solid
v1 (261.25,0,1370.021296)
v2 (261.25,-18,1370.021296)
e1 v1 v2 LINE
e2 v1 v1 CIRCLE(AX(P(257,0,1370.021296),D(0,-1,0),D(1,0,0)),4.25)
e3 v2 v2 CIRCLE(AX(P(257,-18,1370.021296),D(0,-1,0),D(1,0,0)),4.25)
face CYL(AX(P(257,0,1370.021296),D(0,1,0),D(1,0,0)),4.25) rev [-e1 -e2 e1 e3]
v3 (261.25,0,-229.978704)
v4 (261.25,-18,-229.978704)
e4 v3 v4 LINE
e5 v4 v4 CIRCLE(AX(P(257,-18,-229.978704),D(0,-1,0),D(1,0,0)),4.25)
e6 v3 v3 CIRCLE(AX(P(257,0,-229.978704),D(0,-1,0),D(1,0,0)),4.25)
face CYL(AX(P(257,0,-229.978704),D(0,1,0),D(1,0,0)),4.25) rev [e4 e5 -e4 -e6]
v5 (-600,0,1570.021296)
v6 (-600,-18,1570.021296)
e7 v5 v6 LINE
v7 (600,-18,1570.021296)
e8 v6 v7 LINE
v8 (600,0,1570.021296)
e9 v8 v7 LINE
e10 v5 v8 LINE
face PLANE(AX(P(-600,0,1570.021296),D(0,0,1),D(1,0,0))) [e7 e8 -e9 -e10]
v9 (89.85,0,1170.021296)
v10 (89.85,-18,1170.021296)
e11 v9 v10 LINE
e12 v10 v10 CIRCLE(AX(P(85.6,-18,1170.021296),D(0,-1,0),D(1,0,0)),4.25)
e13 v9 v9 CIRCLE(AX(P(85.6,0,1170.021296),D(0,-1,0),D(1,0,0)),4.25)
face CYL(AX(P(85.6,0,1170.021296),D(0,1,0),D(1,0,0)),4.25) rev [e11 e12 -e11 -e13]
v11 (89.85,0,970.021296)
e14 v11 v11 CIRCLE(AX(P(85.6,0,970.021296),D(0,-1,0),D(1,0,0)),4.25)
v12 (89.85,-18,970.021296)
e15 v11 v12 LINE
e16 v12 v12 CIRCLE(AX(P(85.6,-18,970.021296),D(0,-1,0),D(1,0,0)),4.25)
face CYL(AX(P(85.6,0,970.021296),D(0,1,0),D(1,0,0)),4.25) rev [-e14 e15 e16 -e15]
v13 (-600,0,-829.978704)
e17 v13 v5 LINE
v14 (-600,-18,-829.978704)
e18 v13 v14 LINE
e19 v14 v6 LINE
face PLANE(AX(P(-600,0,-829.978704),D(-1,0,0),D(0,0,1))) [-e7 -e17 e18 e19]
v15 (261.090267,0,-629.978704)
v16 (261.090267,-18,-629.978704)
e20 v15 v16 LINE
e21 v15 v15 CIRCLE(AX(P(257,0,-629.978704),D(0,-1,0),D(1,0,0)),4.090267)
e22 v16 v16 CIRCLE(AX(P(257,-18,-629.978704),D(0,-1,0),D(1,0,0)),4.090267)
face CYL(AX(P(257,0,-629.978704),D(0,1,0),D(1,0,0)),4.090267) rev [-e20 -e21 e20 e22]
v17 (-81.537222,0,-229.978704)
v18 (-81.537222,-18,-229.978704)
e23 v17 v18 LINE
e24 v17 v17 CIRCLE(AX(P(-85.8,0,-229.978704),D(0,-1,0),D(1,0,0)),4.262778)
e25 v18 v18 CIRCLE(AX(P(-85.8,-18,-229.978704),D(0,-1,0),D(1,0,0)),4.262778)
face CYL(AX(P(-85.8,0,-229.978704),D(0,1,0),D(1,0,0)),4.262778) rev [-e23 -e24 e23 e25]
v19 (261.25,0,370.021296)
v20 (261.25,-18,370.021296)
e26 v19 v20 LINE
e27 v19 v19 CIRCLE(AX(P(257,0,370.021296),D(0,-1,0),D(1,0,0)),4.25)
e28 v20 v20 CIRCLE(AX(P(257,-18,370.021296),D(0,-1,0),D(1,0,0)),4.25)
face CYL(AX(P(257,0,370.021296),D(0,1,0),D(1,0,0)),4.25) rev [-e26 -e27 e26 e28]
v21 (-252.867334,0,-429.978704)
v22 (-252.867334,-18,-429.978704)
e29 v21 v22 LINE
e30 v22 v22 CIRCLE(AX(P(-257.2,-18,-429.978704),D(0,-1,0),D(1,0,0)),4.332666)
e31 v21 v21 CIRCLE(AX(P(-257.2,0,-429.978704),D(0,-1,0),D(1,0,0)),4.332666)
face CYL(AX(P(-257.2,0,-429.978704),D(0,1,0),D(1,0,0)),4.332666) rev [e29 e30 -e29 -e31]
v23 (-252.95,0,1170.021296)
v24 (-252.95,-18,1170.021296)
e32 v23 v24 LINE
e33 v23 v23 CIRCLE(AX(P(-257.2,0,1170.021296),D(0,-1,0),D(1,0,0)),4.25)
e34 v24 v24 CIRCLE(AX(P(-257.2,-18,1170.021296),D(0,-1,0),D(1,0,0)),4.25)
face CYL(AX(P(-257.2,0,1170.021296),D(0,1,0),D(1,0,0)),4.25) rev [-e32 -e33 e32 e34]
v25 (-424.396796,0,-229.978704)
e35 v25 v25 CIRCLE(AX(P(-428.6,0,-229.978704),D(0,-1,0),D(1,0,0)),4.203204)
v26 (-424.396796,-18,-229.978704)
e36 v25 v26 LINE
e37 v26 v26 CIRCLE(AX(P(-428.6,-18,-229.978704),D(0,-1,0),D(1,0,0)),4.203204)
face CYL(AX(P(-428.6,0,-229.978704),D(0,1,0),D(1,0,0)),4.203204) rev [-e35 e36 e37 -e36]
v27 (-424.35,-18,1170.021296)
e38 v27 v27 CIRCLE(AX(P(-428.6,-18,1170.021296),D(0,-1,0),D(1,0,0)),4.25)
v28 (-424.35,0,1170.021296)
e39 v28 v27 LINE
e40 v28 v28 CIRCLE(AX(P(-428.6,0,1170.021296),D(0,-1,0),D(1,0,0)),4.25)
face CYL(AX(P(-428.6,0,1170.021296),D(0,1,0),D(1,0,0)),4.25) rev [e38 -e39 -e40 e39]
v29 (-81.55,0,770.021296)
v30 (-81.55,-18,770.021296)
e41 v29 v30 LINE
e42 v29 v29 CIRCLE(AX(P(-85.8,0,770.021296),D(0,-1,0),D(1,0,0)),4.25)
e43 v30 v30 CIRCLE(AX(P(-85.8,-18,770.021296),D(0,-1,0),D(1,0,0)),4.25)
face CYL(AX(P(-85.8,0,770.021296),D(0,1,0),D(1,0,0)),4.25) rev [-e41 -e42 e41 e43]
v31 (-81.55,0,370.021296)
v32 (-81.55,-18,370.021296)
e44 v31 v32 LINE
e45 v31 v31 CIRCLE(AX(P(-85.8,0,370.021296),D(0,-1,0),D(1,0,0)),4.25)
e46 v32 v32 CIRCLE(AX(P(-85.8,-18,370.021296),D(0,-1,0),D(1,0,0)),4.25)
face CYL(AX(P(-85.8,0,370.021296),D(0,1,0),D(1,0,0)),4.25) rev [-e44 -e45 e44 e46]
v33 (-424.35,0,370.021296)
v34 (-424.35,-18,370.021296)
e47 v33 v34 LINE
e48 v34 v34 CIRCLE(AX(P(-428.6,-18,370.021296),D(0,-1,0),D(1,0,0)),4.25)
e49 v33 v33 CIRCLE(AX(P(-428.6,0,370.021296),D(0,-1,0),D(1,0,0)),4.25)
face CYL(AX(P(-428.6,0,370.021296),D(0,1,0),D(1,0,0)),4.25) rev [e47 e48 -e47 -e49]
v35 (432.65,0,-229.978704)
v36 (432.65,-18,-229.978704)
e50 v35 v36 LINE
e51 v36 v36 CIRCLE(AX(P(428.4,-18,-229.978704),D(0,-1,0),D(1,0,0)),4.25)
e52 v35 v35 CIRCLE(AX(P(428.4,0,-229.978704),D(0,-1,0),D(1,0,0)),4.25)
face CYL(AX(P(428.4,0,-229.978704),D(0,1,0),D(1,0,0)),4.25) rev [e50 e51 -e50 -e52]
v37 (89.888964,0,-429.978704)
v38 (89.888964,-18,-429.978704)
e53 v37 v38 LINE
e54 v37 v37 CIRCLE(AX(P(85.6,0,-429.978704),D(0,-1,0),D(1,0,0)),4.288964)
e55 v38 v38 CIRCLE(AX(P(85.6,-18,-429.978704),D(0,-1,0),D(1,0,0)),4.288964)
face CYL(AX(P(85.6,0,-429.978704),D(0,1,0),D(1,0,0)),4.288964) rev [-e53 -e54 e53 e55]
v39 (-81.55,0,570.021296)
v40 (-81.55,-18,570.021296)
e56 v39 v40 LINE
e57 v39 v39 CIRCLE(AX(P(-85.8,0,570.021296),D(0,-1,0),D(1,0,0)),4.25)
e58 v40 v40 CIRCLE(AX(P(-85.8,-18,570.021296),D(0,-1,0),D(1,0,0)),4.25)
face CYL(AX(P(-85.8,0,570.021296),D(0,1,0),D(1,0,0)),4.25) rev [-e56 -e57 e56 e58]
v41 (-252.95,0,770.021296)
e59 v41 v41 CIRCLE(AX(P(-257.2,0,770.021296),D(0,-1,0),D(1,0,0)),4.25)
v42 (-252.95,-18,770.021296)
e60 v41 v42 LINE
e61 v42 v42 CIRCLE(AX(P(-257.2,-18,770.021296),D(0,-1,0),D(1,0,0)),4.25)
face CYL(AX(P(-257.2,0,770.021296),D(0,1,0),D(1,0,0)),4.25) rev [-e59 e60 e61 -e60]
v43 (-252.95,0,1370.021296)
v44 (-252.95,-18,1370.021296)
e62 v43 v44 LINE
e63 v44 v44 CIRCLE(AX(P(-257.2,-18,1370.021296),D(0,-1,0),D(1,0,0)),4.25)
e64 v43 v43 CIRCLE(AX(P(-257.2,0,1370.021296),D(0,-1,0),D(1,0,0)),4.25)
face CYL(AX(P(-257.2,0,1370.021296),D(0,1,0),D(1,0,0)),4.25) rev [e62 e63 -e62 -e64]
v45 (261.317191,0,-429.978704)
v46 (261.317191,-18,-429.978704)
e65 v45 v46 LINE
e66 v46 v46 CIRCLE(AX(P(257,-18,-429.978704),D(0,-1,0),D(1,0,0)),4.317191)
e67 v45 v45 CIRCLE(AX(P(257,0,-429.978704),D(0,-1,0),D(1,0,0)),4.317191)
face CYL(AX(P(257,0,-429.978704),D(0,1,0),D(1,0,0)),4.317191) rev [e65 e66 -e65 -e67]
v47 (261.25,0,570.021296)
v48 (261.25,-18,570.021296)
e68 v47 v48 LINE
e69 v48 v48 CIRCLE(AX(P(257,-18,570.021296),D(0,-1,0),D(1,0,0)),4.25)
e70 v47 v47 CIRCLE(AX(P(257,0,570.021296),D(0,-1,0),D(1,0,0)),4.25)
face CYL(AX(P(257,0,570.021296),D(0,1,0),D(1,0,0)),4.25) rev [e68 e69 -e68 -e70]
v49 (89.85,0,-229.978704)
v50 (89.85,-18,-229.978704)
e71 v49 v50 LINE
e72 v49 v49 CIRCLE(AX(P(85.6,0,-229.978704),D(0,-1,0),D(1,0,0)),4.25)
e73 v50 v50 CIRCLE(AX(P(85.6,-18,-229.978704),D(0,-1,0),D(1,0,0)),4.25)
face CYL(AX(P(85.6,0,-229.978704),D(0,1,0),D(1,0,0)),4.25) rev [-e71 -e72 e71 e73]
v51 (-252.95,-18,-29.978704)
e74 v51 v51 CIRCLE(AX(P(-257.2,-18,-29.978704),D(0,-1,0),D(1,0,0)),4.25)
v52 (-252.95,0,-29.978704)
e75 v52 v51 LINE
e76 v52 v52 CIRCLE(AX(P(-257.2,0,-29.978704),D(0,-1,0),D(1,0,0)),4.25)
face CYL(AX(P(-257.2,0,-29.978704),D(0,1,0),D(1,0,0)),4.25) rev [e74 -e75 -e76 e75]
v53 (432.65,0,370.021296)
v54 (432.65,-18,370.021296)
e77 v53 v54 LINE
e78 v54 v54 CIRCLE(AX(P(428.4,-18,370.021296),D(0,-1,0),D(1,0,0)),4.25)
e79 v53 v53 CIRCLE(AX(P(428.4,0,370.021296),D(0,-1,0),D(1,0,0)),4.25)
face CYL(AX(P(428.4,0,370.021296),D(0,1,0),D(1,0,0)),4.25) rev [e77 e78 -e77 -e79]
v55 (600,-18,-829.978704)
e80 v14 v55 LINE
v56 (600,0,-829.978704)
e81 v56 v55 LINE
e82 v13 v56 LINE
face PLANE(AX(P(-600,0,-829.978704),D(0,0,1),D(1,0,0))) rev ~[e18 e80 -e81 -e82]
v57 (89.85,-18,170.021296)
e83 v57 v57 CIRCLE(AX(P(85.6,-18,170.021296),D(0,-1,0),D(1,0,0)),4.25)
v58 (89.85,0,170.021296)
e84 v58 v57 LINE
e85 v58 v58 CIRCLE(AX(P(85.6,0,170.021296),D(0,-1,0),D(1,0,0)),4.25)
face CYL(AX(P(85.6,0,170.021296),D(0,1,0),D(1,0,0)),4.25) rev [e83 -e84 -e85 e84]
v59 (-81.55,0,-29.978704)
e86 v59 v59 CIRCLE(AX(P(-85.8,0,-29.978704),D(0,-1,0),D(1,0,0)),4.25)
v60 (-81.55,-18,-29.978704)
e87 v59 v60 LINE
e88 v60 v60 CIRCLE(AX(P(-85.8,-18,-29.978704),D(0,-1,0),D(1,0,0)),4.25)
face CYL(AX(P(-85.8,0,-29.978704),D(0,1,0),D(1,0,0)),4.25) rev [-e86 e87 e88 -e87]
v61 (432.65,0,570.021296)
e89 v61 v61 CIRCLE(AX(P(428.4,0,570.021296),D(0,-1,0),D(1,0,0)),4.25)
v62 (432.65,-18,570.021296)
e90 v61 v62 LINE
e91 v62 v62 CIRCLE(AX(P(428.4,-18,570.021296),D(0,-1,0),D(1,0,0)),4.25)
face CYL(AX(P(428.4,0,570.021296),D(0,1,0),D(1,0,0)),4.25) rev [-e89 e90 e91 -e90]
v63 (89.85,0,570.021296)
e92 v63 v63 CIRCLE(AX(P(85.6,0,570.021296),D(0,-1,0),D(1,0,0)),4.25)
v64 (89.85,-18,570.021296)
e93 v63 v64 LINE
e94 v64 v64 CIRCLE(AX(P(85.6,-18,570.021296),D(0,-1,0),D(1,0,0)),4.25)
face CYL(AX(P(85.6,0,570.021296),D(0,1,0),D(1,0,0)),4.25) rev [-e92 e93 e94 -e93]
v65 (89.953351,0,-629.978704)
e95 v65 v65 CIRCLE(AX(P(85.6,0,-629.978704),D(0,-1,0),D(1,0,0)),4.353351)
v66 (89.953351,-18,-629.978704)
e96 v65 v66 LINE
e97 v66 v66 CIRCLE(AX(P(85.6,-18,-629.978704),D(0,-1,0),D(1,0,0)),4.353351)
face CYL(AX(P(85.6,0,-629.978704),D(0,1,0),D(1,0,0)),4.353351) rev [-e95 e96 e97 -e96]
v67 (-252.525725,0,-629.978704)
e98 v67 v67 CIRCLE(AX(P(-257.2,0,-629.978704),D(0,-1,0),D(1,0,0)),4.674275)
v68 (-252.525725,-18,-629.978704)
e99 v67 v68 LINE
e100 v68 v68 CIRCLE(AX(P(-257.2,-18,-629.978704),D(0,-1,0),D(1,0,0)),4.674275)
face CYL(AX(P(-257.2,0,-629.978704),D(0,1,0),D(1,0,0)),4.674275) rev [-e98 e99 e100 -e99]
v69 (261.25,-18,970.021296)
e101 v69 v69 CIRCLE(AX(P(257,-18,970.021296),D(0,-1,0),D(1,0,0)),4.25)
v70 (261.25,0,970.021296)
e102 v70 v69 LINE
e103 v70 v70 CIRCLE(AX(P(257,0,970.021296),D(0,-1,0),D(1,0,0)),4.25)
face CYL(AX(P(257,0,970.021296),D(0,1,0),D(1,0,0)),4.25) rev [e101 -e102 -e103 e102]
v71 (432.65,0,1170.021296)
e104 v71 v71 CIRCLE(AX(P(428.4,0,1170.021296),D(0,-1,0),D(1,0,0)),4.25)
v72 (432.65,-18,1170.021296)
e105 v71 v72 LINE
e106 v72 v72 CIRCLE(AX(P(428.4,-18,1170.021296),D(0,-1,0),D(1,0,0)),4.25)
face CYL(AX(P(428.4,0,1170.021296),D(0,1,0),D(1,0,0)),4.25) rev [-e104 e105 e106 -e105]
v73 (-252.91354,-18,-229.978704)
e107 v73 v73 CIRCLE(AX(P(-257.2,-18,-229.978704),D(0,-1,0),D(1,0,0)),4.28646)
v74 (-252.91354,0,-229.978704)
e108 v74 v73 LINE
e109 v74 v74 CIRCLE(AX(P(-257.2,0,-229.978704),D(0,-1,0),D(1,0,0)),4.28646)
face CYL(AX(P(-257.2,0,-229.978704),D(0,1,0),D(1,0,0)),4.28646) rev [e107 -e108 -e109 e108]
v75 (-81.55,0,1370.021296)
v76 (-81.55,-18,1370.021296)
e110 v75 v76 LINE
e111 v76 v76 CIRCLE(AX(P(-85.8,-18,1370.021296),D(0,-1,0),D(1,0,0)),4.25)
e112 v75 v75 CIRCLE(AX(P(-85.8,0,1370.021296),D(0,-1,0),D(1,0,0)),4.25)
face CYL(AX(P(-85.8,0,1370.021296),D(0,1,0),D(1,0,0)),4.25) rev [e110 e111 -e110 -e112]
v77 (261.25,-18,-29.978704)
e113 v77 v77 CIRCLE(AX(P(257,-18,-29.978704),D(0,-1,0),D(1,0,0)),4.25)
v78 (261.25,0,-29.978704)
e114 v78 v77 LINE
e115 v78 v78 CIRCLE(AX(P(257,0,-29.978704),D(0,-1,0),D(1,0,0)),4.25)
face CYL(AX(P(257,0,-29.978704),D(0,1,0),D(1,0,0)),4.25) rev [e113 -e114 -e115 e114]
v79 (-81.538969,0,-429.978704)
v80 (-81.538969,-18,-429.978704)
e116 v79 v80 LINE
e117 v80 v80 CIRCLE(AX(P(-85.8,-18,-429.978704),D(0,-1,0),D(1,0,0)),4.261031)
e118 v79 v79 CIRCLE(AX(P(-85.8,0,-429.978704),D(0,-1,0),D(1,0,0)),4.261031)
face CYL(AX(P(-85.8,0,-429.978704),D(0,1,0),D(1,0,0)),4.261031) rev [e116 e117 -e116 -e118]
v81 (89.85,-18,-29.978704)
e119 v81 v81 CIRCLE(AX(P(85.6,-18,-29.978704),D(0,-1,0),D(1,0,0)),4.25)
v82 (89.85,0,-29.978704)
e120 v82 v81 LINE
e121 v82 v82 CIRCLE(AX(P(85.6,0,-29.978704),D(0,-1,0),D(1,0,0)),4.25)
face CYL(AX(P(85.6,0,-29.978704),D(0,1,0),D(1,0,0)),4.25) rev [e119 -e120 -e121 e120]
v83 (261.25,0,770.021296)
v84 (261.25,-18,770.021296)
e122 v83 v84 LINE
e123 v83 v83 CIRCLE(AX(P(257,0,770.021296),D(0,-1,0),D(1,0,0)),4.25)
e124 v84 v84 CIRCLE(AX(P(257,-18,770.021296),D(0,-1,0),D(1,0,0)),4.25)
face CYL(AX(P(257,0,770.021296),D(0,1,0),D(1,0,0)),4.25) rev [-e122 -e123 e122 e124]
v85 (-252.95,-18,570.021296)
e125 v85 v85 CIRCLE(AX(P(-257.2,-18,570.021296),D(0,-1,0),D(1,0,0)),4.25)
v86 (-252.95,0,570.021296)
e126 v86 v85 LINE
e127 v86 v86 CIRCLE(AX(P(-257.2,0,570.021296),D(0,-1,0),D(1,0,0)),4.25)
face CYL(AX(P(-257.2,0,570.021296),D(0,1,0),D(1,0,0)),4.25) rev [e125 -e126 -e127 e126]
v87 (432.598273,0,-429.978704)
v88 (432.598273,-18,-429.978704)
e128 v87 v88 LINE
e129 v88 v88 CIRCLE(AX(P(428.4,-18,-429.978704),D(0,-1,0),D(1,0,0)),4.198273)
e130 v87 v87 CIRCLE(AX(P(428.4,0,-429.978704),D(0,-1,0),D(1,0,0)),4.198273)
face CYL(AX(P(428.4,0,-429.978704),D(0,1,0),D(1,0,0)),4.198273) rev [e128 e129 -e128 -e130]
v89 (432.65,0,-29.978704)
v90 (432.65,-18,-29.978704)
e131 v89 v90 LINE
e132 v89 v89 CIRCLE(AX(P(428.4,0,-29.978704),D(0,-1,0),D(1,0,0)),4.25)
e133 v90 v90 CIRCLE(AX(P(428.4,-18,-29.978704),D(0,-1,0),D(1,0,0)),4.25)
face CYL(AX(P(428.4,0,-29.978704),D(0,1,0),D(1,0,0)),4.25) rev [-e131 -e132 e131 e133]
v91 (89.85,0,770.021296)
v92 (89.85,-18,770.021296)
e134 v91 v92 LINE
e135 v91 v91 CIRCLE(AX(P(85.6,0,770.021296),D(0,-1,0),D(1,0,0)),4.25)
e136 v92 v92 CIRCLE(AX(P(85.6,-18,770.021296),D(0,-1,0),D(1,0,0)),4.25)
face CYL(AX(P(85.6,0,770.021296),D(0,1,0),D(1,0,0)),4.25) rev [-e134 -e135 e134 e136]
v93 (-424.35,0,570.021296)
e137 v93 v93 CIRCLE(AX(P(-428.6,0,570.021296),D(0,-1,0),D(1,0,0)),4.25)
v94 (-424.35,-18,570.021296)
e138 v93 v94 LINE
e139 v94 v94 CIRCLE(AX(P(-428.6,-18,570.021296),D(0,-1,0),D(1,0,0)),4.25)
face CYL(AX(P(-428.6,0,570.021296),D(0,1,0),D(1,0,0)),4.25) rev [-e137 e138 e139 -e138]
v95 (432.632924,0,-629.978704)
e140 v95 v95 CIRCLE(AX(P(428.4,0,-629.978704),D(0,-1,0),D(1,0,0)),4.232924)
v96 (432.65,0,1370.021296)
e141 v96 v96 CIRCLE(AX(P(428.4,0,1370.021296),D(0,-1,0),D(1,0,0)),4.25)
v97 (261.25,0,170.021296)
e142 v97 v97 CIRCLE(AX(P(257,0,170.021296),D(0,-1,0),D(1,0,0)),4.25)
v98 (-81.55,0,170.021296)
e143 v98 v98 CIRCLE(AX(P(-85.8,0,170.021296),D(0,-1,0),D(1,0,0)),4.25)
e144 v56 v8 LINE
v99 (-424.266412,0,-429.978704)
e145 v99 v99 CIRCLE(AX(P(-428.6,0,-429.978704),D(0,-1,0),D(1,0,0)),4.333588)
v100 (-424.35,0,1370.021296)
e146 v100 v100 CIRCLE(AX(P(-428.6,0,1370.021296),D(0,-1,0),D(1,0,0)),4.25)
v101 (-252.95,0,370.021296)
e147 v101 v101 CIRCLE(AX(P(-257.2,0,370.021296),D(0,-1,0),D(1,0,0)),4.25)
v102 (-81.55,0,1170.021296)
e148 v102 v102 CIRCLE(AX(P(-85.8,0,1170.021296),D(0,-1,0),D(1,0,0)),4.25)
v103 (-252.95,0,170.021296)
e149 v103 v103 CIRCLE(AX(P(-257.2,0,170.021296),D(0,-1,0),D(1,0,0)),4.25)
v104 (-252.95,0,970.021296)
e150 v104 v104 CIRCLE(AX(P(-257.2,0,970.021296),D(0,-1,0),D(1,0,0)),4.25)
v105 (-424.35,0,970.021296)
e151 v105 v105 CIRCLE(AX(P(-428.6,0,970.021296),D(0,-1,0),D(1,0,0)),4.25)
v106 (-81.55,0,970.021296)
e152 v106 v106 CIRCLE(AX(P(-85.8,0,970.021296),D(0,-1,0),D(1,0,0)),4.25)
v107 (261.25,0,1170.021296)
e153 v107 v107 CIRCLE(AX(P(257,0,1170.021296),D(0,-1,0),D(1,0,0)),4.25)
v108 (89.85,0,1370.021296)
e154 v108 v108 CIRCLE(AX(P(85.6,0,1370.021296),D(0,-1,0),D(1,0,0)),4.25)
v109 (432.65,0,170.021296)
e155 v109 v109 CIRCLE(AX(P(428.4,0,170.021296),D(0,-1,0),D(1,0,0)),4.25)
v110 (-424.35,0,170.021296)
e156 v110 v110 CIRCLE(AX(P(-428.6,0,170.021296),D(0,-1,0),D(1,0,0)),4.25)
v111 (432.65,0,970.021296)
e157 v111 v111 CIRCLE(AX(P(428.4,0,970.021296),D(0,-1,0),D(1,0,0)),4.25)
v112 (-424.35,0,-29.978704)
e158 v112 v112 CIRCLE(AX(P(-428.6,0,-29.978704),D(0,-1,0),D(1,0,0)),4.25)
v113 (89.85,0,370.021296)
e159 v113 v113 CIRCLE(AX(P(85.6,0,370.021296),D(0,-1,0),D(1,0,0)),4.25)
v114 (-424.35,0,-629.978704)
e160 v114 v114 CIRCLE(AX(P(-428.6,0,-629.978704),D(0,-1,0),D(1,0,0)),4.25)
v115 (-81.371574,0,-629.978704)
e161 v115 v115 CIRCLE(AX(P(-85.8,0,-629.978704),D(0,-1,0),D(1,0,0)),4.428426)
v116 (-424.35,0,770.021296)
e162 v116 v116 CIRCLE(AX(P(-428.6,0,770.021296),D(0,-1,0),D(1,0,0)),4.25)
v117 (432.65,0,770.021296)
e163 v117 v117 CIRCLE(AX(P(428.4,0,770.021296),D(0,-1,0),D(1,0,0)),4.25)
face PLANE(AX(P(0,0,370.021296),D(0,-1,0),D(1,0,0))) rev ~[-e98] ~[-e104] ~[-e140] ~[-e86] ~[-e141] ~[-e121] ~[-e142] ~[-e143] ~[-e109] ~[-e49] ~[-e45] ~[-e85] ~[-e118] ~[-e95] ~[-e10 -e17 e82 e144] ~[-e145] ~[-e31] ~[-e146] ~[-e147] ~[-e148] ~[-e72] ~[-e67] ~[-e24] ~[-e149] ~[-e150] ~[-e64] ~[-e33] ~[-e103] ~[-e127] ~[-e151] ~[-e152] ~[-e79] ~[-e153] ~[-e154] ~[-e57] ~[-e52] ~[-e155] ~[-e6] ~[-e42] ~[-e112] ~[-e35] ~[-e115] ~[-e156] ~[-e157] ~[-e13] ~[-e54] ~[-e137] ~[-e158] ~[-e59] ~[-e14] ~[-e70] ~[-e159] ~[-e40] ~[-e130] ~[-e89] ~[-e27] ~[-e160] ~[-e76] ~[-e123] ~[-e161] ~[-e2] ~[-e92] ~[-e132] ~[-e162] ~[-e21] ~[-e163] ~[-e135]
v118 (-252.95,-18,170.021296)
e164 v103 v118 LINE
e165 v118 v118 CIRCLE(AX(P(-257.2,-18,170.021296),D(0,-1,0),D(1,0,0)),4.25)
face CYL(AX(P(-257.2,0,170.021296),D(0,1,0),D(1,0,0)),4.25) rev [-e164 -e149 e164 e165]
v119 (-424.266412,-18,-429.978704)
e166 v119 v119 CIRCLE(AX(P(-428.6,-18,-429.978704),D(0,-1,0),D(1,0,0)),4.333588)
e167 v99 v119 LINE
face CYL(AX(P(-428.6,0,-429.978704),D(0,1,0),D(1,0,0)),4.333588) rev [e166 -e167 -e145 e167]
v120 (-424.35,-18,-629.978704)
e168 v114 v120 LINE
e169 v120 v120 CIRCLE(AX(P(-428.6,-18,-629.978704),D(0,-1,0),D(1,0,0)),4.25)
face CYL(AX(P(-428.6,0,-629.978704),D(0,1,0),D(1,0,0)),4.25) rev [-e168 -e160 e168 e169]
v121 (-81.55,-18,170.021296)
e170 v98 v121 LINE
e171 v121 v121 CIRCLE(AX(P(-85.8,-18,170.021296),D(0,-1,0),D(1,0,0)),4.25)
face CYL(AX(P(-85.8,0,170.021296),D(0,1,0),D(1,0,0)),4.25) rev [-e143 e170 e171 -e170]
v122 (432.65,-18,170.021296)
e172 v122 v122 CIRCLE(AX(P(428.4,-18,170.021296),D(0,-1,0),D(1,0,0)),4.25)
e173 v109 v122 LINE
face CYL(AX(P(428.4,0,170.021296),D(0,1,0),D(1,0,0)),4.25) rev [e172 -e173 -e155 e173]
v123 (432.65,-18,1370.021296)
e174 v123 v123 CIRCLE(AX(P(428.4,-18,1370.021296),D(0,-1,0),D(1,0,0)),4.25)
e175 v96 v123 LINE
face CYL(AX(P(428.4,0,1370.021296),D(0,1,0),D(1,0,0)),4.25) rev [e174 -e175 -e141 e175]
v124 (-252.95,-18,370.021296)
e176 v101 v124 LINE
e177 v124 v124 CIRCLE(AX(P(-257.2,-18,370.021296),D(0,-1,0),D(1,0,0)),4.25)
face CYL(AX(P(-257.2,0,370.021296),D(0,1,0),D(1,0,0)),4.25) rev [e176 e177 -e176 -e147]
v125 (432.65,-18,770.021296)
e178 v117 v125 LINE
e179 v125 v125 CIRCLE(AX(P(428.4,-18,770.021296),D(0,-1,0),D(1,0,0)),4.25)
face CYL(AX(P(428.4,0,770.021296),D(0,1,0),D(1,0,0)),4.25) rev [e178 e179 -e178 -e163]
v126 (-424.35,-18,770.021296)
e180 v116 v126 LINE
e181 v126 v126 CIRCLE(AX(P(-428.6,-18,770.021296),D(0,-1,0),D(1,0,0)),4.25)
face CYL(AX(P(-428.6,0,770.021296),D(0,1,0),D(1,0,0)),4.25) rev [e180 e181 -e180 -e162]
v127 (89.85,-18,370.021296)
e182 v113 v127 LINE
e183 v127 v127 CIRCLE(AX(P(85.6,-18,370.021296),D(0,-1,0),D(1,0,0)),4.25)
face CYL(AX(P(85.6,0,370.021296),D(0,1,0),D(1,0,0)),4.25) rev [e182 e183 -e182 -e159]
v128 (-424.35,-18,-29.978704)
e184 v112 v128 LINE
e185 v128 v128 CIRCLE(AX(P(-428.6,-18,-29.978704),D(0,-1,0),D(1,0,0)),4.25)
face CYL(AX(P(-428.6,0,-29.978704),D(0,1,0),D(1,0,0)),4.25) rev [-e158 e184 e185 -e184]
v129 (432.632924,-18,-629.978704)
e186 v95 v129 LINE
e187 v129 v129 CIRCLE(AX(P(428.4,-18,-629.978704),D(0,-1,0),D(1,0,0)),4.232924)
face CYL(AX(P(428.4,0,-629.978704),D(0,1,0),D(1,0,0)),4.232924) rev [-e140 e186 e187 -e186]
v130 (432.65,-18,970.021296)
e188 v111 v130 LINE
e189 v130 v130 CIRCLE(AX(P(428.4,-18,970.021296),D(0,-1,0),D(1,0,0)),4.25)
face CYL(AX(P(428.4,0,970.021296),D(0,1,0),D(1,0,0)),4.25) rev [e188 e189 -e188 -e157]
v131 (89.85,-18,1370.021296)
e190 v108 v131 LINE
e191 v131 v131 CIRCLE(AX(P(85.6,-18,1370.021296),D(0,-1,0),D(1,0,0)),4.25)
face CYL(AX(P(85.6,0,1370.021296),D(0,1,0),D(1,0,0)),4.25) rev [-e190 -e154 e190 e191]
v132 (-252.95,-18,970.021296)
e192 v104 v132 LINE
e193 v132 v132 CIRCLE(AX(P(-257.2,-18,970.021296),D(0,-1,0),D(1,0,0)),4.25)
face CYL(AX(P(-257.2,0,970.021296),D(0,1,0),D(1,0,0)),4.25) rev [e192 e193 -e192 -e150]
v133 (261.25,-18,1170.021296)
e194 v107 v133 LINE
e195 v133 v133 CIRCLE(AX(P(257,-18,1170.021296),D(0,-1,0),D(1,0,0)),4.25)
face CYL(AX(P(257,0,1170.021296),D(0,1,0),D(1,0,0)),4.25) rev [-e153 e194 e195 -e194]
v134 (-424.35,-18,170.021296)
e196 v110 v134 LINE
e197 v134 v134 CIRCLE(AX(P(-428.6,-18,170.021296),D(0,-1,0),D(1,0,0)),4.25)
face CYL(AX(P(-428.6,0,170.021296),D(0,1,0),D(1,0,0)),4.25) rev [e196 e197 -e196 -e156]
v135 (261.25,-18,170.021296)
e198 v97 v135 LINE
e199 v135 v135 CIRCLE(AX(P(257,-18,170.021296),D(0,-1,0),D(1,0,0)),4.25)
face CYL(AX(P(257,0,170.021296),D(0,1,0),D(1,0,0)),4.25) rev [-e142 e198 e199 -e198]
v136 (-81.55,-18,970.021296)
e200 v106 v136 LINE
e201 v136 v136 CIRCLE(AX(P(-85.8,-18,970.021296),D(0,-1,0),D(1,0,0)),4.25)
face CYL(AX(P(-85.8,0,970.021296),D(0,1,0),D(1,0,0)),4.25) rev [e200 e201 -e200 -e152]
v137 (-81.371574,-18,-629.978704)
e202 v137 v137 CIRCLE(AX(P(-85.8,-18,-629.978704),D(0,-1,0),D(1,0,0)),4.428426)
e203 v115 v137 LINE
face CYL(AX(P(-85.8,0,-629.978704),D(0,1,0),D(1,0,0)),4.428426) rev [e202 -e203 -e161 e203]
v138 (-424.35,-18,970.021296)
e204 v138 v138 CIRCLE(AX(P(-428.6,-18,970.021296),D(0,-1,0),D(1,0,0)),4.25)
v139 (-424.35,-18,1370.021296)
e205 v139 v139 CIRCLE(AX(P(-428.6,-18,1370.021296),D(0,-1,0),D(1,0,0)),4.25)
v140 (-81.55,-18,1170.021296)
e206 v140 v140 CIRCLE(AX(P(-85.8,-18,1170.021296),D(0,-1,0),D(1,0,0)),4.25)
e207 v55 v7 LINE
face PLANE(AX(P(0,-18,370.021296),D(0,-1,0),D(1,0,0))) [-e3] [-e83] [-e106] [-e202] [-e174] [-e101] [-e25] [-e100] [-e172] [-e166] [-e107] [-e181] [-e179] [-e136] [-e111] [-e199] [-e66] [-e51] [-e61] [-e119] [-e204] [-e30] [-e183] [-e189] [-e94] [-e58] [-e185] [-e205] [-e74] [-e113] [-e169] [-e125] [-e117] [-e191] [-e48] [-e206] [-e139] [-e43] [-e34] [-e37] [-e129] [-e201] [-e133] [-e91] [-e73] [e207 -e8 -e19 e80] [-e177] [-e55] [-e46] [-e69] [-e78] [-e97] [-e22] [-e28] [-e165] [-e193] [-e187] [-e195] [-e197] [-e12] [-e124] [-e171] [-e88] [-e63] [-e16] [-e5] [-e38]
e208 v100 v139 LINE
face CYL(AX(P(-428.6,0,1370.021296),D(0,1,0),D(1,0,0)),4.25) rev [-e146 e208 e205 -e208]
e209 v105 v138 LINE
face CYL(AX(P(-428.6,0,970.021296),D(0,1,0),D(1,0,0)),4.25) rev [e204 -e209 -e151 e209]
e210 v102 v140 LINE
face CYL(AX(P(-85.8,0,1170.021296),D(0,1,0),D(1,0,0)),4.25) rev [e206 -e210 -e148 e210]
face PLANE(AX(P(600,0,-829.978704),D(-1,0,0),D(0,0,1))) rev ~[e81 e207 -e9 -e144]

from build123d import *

# Parameters (mm, degrees)
F0_W     = 1200
F0_H     = 2400
F0_R     = 4.25
F0_R_2   = 4.333588
F0_R_3   = 4.203204
F0_R_4   = 4.674275
F0_R_5   = 4.428426
F0_R_6   = 4.332666
F0_R_7   = 4.28646
F0_R_8   = 4.261031
F0_R_9   = 4.262778
F0_R_10  = 4.353351
F0_R_11  = 4.090267
F0_R_12  = 4.288964
F0_R_13  = 4.317191
F0_R_14  = 4.232924
F0_R_15  = 4.198273
F1_DEPTH = 18


with BuildPart() as f1:
    # F0 (on Front) → F1 (new body)
    with BuildSketch(Plane.XZ):
        with Locations((0, 370.021296)):
            Rectangle(F0_W, F0_H)
        with Locations((-428.6, -629.978704)):
            Circle(F0_R, mode=Mode.SUBTRACT)
        with Locations((-428.6, -429.978704)):
            Circle(F0_R_2, mode=Mode.SUBTRACT)
        with Locations((-428.6, -229.978704)):
            Circle(F0_R_3, mode=Mode.SUBTRACT)
        with Locations((-257.2, -629.978704)):
            Circle(F0_R_4, mode=Mode.SUBTRACT)
        with Locations((-85.8, -629.978704)):
            Circle(F0_R_5, mode=Mode.SUBTRACT)
        with Locations((-257.2, -429.978704)):
            Circle(F0_R_6, mode=Mode.SUBTRACT)
        with Locations((-257.2, -229.978704)):
            Circle(F0_R_7, mode=Mode.SUBTRACT)
        with Locations((-85.8, -429.978704)):
            Circle(F0_R_8, mode=Mode.SUBTRACT)
        with Locations((-85.8, -229.978704)):
            Circle(F0_R_9, mode=Mode.SUBTRACT)
        with Locations((-428.6, -29.978704)):
            Circle(F0_R, mode=Mode.SUBTRACT)
        with Locations((-428.6, 170.021296)):
            Circle(F0_R, mode=Mode.SUBTRACT)
        with Locations((-257.2, -29.978704)):
            Circle(F0_R, mode=Mode.SUBTRACT)
        with Locations((-85.8, -29.978704)):
            Circle(F0_R, mode=Mode.SUBTRACT)
        with Locations((-257.2, 170.021296)):
            Circle(F0_R, mode=Mode.SUBTRACT)
        with Locations((-85.8, 170.021296)):
            Circle(F0_R, mode=Mode.SUBTRACT)
        with Locations((85.6, -629.978704)):
            Circle(F0_R_10, mode=Mode.SUBTRACT)
        with Locations((257, -629.978704)):
            Circle(F0_R_11, mode=Mode.SUBTRACT)
        with Locations((85.6, -429.978704)):
            Circle(F0_R_12, mode=Mode.SUBTRACT)
        with Locations((85.6, -229.978704)):
            Circle(F0_R, mode=Mode.SUBTRACT)
        with Locations((257, -429.978704)):
            Circle(F0_R_13, mode=Mode.SUBTRACT)
        with Locations((257, -229.978704)):
            Circle(F0_R, mode=Mode.SUBTRACT)
        with Locations((428.4, -629.978704)):
            Circle(F0_R_14, mode=Mode.SUBTRACT)
        with Locations((428.4, -429.978704)):
            Circle(F0_R_15, mode=Mode.SUBTRACT)
        with Locations((428.4, -229.978704)):
            Circle(F0_R, mode=Mode.SUBTRACT)
        with Locations((85.6, -29.978704)):
            Circle(F0_R, mode=Mode.SUBTRACT)
        with Locations((257, -29.978704)):
            Circle(F0_R, mode=Mode.SUBTRACT)
        with Locations((85.6, 170.021296)):
            Circle(F0_R, mode=Mode.SUBTRACT)
        with Locations((257, 170.021296)):
            Circle(F0_R, mode=Mode.SUBTRACT)
        with Locations((257, 370.021296)):
            Circle(F0_R, mode=Mode.SUBTRACT)
        with Locations((428.4, -29.978704)):
            Circle(F0_R, mode=Mode.SUBTRACT)
        with Locations((428.4, 170.021296)):
            Circle(F0_R, mode=Mode.SUBTRACT)
        with Locations((-428.6, 370.021296)):
            Circle(F0_R, mode=Mode.SUBTRACT)
        with Locations((-428.6, 570.021296)):
            Circle(F0_R, mode=Mode.SUBTRACT)
        with Locations((-428.6, 770.021296)):
            Circle(F0_R, mode=Mode.SUBTRACT)
        with Locations((-257.2, 370.021296)):
            Circle(F0_R, mode=Mode.SUBTRACT)
        with Locations((-257.2, 570.021296)):
            Circle(F0_R, mode=Mode.SUBTRACT)
        with Locations((-85.8, 370.021296)):
            Circle(F0_R, mode=Mode.SUBTRACT)
        with Locations((-85.8, 570.021296)):
            Circle(F0_R, mode=Mode.SUBTRACT)
        with Locations((-257.2, 770.021296)):
            Circle(F0_R, mode=Mode.SUBTRACT)
        with Locations((-85.8, 770.021296)):
            Circle(F0_R, mode=Mode.SUBTRACT)
        with Locations((-428.6, 970.021296)):
            Circle(F0_R, mode=Mode.SUBTRACT)
        with Locations((-428.6, 1170.021296)):
            Circle(F0_R, mode=Mode.SUBTRACT)
        with Locations((-428.6, 1370.021296)):
            Circle(F0_R, mode=Mode.SUBTRACT)
        with Locations((-257.2, 970.021296)):
            Circle(F0_R, mode=Mode.SUBTRACT)
        with Locations((-257.2, 1170.021296)):
            Circle(F0_R, mode=Mode.SUBTRACT)
        with Locations((-85.8, 970.021296)):
            Circle(F0_R, mode=Mode.SUBTRACT)
        with Locations((-85.8, 1170.021296)):
            Circle(F0_R, mode=Mode.SUBTRACT)
        with Locations((-257.2, 1370.021296)):
            Circle(F0_R, mode=Mode.SUBTRACT)
        with Locations((-85.8, 1370.021296)):
            Circle(F0_R, mode=Mode.SUBTRACT)
        with Locations((85.6, 370.021296)):
            Circle(F0_R, mode=Mode.SUBTRACT)
        with Locations((85.6, 570.021296)):
            Circle(F0_R, mode=Mode.SUBTRACT)
        with Locations((257, 570.021296)):
            Circle(F0_R, mode=Mode.SUBTRACT)
        with Locations((85.6, 770.021296)):
            Circle(F0_R, mode=Mode.SUBTRACT)
        with Locations((257, 770.021296)):
            Circle(F0_R, mode=Mode.SUBTRACT)
        with Locations((428.4, 370.021296)):
            Circle(F0_R, mode=Mode.SUBTRACT)
        with Locations((428.4, 570.021296)):
            Circle(F0_R, mode=Mode.SUBTRACT)
        with Locations((428.4, 770.021296)):
            Circle(F0_R, mode=Mode.SUBTRACT)
        with Locations((85.6, 970.021296)):
            Circle(F0_R, mode=Mode.SUBTRACT)
        with Locations((85.6, 1170.021296)):
            Circle(F0_R, mode=Mode.SUBTRACT)
        with Locations((257, 970.021296)):
            Circle(F0_R, mode=Mode.SUBTRACT)
        with Locations((257, 1170.021296)):
            Circle(F0_R, mode=Mode.SUBTRACT)
        with Locations((85.6, 1370.021296)):
            Circle(F0_R, mode=Mode.SUBTRACT)
        with Locations((257, 1370.021296)):
            Circle(F0_R, mode=Mode.SUBTRACT)
        with Locations((428.4, 970.021296)):
            Circle(F0_R, mode=Mode.SUBTRACT)
        with Locations((428.4, 1170.021296)):
            Circle(F0_R, mode=Mode.SUBTRACT)
        with Locations((428.4, 1370.021296)):
            Circle(F0_R, mode=Mode.SUBTRACT)
    extrude(amount=F1_DEPTH)


solid = f1.part
